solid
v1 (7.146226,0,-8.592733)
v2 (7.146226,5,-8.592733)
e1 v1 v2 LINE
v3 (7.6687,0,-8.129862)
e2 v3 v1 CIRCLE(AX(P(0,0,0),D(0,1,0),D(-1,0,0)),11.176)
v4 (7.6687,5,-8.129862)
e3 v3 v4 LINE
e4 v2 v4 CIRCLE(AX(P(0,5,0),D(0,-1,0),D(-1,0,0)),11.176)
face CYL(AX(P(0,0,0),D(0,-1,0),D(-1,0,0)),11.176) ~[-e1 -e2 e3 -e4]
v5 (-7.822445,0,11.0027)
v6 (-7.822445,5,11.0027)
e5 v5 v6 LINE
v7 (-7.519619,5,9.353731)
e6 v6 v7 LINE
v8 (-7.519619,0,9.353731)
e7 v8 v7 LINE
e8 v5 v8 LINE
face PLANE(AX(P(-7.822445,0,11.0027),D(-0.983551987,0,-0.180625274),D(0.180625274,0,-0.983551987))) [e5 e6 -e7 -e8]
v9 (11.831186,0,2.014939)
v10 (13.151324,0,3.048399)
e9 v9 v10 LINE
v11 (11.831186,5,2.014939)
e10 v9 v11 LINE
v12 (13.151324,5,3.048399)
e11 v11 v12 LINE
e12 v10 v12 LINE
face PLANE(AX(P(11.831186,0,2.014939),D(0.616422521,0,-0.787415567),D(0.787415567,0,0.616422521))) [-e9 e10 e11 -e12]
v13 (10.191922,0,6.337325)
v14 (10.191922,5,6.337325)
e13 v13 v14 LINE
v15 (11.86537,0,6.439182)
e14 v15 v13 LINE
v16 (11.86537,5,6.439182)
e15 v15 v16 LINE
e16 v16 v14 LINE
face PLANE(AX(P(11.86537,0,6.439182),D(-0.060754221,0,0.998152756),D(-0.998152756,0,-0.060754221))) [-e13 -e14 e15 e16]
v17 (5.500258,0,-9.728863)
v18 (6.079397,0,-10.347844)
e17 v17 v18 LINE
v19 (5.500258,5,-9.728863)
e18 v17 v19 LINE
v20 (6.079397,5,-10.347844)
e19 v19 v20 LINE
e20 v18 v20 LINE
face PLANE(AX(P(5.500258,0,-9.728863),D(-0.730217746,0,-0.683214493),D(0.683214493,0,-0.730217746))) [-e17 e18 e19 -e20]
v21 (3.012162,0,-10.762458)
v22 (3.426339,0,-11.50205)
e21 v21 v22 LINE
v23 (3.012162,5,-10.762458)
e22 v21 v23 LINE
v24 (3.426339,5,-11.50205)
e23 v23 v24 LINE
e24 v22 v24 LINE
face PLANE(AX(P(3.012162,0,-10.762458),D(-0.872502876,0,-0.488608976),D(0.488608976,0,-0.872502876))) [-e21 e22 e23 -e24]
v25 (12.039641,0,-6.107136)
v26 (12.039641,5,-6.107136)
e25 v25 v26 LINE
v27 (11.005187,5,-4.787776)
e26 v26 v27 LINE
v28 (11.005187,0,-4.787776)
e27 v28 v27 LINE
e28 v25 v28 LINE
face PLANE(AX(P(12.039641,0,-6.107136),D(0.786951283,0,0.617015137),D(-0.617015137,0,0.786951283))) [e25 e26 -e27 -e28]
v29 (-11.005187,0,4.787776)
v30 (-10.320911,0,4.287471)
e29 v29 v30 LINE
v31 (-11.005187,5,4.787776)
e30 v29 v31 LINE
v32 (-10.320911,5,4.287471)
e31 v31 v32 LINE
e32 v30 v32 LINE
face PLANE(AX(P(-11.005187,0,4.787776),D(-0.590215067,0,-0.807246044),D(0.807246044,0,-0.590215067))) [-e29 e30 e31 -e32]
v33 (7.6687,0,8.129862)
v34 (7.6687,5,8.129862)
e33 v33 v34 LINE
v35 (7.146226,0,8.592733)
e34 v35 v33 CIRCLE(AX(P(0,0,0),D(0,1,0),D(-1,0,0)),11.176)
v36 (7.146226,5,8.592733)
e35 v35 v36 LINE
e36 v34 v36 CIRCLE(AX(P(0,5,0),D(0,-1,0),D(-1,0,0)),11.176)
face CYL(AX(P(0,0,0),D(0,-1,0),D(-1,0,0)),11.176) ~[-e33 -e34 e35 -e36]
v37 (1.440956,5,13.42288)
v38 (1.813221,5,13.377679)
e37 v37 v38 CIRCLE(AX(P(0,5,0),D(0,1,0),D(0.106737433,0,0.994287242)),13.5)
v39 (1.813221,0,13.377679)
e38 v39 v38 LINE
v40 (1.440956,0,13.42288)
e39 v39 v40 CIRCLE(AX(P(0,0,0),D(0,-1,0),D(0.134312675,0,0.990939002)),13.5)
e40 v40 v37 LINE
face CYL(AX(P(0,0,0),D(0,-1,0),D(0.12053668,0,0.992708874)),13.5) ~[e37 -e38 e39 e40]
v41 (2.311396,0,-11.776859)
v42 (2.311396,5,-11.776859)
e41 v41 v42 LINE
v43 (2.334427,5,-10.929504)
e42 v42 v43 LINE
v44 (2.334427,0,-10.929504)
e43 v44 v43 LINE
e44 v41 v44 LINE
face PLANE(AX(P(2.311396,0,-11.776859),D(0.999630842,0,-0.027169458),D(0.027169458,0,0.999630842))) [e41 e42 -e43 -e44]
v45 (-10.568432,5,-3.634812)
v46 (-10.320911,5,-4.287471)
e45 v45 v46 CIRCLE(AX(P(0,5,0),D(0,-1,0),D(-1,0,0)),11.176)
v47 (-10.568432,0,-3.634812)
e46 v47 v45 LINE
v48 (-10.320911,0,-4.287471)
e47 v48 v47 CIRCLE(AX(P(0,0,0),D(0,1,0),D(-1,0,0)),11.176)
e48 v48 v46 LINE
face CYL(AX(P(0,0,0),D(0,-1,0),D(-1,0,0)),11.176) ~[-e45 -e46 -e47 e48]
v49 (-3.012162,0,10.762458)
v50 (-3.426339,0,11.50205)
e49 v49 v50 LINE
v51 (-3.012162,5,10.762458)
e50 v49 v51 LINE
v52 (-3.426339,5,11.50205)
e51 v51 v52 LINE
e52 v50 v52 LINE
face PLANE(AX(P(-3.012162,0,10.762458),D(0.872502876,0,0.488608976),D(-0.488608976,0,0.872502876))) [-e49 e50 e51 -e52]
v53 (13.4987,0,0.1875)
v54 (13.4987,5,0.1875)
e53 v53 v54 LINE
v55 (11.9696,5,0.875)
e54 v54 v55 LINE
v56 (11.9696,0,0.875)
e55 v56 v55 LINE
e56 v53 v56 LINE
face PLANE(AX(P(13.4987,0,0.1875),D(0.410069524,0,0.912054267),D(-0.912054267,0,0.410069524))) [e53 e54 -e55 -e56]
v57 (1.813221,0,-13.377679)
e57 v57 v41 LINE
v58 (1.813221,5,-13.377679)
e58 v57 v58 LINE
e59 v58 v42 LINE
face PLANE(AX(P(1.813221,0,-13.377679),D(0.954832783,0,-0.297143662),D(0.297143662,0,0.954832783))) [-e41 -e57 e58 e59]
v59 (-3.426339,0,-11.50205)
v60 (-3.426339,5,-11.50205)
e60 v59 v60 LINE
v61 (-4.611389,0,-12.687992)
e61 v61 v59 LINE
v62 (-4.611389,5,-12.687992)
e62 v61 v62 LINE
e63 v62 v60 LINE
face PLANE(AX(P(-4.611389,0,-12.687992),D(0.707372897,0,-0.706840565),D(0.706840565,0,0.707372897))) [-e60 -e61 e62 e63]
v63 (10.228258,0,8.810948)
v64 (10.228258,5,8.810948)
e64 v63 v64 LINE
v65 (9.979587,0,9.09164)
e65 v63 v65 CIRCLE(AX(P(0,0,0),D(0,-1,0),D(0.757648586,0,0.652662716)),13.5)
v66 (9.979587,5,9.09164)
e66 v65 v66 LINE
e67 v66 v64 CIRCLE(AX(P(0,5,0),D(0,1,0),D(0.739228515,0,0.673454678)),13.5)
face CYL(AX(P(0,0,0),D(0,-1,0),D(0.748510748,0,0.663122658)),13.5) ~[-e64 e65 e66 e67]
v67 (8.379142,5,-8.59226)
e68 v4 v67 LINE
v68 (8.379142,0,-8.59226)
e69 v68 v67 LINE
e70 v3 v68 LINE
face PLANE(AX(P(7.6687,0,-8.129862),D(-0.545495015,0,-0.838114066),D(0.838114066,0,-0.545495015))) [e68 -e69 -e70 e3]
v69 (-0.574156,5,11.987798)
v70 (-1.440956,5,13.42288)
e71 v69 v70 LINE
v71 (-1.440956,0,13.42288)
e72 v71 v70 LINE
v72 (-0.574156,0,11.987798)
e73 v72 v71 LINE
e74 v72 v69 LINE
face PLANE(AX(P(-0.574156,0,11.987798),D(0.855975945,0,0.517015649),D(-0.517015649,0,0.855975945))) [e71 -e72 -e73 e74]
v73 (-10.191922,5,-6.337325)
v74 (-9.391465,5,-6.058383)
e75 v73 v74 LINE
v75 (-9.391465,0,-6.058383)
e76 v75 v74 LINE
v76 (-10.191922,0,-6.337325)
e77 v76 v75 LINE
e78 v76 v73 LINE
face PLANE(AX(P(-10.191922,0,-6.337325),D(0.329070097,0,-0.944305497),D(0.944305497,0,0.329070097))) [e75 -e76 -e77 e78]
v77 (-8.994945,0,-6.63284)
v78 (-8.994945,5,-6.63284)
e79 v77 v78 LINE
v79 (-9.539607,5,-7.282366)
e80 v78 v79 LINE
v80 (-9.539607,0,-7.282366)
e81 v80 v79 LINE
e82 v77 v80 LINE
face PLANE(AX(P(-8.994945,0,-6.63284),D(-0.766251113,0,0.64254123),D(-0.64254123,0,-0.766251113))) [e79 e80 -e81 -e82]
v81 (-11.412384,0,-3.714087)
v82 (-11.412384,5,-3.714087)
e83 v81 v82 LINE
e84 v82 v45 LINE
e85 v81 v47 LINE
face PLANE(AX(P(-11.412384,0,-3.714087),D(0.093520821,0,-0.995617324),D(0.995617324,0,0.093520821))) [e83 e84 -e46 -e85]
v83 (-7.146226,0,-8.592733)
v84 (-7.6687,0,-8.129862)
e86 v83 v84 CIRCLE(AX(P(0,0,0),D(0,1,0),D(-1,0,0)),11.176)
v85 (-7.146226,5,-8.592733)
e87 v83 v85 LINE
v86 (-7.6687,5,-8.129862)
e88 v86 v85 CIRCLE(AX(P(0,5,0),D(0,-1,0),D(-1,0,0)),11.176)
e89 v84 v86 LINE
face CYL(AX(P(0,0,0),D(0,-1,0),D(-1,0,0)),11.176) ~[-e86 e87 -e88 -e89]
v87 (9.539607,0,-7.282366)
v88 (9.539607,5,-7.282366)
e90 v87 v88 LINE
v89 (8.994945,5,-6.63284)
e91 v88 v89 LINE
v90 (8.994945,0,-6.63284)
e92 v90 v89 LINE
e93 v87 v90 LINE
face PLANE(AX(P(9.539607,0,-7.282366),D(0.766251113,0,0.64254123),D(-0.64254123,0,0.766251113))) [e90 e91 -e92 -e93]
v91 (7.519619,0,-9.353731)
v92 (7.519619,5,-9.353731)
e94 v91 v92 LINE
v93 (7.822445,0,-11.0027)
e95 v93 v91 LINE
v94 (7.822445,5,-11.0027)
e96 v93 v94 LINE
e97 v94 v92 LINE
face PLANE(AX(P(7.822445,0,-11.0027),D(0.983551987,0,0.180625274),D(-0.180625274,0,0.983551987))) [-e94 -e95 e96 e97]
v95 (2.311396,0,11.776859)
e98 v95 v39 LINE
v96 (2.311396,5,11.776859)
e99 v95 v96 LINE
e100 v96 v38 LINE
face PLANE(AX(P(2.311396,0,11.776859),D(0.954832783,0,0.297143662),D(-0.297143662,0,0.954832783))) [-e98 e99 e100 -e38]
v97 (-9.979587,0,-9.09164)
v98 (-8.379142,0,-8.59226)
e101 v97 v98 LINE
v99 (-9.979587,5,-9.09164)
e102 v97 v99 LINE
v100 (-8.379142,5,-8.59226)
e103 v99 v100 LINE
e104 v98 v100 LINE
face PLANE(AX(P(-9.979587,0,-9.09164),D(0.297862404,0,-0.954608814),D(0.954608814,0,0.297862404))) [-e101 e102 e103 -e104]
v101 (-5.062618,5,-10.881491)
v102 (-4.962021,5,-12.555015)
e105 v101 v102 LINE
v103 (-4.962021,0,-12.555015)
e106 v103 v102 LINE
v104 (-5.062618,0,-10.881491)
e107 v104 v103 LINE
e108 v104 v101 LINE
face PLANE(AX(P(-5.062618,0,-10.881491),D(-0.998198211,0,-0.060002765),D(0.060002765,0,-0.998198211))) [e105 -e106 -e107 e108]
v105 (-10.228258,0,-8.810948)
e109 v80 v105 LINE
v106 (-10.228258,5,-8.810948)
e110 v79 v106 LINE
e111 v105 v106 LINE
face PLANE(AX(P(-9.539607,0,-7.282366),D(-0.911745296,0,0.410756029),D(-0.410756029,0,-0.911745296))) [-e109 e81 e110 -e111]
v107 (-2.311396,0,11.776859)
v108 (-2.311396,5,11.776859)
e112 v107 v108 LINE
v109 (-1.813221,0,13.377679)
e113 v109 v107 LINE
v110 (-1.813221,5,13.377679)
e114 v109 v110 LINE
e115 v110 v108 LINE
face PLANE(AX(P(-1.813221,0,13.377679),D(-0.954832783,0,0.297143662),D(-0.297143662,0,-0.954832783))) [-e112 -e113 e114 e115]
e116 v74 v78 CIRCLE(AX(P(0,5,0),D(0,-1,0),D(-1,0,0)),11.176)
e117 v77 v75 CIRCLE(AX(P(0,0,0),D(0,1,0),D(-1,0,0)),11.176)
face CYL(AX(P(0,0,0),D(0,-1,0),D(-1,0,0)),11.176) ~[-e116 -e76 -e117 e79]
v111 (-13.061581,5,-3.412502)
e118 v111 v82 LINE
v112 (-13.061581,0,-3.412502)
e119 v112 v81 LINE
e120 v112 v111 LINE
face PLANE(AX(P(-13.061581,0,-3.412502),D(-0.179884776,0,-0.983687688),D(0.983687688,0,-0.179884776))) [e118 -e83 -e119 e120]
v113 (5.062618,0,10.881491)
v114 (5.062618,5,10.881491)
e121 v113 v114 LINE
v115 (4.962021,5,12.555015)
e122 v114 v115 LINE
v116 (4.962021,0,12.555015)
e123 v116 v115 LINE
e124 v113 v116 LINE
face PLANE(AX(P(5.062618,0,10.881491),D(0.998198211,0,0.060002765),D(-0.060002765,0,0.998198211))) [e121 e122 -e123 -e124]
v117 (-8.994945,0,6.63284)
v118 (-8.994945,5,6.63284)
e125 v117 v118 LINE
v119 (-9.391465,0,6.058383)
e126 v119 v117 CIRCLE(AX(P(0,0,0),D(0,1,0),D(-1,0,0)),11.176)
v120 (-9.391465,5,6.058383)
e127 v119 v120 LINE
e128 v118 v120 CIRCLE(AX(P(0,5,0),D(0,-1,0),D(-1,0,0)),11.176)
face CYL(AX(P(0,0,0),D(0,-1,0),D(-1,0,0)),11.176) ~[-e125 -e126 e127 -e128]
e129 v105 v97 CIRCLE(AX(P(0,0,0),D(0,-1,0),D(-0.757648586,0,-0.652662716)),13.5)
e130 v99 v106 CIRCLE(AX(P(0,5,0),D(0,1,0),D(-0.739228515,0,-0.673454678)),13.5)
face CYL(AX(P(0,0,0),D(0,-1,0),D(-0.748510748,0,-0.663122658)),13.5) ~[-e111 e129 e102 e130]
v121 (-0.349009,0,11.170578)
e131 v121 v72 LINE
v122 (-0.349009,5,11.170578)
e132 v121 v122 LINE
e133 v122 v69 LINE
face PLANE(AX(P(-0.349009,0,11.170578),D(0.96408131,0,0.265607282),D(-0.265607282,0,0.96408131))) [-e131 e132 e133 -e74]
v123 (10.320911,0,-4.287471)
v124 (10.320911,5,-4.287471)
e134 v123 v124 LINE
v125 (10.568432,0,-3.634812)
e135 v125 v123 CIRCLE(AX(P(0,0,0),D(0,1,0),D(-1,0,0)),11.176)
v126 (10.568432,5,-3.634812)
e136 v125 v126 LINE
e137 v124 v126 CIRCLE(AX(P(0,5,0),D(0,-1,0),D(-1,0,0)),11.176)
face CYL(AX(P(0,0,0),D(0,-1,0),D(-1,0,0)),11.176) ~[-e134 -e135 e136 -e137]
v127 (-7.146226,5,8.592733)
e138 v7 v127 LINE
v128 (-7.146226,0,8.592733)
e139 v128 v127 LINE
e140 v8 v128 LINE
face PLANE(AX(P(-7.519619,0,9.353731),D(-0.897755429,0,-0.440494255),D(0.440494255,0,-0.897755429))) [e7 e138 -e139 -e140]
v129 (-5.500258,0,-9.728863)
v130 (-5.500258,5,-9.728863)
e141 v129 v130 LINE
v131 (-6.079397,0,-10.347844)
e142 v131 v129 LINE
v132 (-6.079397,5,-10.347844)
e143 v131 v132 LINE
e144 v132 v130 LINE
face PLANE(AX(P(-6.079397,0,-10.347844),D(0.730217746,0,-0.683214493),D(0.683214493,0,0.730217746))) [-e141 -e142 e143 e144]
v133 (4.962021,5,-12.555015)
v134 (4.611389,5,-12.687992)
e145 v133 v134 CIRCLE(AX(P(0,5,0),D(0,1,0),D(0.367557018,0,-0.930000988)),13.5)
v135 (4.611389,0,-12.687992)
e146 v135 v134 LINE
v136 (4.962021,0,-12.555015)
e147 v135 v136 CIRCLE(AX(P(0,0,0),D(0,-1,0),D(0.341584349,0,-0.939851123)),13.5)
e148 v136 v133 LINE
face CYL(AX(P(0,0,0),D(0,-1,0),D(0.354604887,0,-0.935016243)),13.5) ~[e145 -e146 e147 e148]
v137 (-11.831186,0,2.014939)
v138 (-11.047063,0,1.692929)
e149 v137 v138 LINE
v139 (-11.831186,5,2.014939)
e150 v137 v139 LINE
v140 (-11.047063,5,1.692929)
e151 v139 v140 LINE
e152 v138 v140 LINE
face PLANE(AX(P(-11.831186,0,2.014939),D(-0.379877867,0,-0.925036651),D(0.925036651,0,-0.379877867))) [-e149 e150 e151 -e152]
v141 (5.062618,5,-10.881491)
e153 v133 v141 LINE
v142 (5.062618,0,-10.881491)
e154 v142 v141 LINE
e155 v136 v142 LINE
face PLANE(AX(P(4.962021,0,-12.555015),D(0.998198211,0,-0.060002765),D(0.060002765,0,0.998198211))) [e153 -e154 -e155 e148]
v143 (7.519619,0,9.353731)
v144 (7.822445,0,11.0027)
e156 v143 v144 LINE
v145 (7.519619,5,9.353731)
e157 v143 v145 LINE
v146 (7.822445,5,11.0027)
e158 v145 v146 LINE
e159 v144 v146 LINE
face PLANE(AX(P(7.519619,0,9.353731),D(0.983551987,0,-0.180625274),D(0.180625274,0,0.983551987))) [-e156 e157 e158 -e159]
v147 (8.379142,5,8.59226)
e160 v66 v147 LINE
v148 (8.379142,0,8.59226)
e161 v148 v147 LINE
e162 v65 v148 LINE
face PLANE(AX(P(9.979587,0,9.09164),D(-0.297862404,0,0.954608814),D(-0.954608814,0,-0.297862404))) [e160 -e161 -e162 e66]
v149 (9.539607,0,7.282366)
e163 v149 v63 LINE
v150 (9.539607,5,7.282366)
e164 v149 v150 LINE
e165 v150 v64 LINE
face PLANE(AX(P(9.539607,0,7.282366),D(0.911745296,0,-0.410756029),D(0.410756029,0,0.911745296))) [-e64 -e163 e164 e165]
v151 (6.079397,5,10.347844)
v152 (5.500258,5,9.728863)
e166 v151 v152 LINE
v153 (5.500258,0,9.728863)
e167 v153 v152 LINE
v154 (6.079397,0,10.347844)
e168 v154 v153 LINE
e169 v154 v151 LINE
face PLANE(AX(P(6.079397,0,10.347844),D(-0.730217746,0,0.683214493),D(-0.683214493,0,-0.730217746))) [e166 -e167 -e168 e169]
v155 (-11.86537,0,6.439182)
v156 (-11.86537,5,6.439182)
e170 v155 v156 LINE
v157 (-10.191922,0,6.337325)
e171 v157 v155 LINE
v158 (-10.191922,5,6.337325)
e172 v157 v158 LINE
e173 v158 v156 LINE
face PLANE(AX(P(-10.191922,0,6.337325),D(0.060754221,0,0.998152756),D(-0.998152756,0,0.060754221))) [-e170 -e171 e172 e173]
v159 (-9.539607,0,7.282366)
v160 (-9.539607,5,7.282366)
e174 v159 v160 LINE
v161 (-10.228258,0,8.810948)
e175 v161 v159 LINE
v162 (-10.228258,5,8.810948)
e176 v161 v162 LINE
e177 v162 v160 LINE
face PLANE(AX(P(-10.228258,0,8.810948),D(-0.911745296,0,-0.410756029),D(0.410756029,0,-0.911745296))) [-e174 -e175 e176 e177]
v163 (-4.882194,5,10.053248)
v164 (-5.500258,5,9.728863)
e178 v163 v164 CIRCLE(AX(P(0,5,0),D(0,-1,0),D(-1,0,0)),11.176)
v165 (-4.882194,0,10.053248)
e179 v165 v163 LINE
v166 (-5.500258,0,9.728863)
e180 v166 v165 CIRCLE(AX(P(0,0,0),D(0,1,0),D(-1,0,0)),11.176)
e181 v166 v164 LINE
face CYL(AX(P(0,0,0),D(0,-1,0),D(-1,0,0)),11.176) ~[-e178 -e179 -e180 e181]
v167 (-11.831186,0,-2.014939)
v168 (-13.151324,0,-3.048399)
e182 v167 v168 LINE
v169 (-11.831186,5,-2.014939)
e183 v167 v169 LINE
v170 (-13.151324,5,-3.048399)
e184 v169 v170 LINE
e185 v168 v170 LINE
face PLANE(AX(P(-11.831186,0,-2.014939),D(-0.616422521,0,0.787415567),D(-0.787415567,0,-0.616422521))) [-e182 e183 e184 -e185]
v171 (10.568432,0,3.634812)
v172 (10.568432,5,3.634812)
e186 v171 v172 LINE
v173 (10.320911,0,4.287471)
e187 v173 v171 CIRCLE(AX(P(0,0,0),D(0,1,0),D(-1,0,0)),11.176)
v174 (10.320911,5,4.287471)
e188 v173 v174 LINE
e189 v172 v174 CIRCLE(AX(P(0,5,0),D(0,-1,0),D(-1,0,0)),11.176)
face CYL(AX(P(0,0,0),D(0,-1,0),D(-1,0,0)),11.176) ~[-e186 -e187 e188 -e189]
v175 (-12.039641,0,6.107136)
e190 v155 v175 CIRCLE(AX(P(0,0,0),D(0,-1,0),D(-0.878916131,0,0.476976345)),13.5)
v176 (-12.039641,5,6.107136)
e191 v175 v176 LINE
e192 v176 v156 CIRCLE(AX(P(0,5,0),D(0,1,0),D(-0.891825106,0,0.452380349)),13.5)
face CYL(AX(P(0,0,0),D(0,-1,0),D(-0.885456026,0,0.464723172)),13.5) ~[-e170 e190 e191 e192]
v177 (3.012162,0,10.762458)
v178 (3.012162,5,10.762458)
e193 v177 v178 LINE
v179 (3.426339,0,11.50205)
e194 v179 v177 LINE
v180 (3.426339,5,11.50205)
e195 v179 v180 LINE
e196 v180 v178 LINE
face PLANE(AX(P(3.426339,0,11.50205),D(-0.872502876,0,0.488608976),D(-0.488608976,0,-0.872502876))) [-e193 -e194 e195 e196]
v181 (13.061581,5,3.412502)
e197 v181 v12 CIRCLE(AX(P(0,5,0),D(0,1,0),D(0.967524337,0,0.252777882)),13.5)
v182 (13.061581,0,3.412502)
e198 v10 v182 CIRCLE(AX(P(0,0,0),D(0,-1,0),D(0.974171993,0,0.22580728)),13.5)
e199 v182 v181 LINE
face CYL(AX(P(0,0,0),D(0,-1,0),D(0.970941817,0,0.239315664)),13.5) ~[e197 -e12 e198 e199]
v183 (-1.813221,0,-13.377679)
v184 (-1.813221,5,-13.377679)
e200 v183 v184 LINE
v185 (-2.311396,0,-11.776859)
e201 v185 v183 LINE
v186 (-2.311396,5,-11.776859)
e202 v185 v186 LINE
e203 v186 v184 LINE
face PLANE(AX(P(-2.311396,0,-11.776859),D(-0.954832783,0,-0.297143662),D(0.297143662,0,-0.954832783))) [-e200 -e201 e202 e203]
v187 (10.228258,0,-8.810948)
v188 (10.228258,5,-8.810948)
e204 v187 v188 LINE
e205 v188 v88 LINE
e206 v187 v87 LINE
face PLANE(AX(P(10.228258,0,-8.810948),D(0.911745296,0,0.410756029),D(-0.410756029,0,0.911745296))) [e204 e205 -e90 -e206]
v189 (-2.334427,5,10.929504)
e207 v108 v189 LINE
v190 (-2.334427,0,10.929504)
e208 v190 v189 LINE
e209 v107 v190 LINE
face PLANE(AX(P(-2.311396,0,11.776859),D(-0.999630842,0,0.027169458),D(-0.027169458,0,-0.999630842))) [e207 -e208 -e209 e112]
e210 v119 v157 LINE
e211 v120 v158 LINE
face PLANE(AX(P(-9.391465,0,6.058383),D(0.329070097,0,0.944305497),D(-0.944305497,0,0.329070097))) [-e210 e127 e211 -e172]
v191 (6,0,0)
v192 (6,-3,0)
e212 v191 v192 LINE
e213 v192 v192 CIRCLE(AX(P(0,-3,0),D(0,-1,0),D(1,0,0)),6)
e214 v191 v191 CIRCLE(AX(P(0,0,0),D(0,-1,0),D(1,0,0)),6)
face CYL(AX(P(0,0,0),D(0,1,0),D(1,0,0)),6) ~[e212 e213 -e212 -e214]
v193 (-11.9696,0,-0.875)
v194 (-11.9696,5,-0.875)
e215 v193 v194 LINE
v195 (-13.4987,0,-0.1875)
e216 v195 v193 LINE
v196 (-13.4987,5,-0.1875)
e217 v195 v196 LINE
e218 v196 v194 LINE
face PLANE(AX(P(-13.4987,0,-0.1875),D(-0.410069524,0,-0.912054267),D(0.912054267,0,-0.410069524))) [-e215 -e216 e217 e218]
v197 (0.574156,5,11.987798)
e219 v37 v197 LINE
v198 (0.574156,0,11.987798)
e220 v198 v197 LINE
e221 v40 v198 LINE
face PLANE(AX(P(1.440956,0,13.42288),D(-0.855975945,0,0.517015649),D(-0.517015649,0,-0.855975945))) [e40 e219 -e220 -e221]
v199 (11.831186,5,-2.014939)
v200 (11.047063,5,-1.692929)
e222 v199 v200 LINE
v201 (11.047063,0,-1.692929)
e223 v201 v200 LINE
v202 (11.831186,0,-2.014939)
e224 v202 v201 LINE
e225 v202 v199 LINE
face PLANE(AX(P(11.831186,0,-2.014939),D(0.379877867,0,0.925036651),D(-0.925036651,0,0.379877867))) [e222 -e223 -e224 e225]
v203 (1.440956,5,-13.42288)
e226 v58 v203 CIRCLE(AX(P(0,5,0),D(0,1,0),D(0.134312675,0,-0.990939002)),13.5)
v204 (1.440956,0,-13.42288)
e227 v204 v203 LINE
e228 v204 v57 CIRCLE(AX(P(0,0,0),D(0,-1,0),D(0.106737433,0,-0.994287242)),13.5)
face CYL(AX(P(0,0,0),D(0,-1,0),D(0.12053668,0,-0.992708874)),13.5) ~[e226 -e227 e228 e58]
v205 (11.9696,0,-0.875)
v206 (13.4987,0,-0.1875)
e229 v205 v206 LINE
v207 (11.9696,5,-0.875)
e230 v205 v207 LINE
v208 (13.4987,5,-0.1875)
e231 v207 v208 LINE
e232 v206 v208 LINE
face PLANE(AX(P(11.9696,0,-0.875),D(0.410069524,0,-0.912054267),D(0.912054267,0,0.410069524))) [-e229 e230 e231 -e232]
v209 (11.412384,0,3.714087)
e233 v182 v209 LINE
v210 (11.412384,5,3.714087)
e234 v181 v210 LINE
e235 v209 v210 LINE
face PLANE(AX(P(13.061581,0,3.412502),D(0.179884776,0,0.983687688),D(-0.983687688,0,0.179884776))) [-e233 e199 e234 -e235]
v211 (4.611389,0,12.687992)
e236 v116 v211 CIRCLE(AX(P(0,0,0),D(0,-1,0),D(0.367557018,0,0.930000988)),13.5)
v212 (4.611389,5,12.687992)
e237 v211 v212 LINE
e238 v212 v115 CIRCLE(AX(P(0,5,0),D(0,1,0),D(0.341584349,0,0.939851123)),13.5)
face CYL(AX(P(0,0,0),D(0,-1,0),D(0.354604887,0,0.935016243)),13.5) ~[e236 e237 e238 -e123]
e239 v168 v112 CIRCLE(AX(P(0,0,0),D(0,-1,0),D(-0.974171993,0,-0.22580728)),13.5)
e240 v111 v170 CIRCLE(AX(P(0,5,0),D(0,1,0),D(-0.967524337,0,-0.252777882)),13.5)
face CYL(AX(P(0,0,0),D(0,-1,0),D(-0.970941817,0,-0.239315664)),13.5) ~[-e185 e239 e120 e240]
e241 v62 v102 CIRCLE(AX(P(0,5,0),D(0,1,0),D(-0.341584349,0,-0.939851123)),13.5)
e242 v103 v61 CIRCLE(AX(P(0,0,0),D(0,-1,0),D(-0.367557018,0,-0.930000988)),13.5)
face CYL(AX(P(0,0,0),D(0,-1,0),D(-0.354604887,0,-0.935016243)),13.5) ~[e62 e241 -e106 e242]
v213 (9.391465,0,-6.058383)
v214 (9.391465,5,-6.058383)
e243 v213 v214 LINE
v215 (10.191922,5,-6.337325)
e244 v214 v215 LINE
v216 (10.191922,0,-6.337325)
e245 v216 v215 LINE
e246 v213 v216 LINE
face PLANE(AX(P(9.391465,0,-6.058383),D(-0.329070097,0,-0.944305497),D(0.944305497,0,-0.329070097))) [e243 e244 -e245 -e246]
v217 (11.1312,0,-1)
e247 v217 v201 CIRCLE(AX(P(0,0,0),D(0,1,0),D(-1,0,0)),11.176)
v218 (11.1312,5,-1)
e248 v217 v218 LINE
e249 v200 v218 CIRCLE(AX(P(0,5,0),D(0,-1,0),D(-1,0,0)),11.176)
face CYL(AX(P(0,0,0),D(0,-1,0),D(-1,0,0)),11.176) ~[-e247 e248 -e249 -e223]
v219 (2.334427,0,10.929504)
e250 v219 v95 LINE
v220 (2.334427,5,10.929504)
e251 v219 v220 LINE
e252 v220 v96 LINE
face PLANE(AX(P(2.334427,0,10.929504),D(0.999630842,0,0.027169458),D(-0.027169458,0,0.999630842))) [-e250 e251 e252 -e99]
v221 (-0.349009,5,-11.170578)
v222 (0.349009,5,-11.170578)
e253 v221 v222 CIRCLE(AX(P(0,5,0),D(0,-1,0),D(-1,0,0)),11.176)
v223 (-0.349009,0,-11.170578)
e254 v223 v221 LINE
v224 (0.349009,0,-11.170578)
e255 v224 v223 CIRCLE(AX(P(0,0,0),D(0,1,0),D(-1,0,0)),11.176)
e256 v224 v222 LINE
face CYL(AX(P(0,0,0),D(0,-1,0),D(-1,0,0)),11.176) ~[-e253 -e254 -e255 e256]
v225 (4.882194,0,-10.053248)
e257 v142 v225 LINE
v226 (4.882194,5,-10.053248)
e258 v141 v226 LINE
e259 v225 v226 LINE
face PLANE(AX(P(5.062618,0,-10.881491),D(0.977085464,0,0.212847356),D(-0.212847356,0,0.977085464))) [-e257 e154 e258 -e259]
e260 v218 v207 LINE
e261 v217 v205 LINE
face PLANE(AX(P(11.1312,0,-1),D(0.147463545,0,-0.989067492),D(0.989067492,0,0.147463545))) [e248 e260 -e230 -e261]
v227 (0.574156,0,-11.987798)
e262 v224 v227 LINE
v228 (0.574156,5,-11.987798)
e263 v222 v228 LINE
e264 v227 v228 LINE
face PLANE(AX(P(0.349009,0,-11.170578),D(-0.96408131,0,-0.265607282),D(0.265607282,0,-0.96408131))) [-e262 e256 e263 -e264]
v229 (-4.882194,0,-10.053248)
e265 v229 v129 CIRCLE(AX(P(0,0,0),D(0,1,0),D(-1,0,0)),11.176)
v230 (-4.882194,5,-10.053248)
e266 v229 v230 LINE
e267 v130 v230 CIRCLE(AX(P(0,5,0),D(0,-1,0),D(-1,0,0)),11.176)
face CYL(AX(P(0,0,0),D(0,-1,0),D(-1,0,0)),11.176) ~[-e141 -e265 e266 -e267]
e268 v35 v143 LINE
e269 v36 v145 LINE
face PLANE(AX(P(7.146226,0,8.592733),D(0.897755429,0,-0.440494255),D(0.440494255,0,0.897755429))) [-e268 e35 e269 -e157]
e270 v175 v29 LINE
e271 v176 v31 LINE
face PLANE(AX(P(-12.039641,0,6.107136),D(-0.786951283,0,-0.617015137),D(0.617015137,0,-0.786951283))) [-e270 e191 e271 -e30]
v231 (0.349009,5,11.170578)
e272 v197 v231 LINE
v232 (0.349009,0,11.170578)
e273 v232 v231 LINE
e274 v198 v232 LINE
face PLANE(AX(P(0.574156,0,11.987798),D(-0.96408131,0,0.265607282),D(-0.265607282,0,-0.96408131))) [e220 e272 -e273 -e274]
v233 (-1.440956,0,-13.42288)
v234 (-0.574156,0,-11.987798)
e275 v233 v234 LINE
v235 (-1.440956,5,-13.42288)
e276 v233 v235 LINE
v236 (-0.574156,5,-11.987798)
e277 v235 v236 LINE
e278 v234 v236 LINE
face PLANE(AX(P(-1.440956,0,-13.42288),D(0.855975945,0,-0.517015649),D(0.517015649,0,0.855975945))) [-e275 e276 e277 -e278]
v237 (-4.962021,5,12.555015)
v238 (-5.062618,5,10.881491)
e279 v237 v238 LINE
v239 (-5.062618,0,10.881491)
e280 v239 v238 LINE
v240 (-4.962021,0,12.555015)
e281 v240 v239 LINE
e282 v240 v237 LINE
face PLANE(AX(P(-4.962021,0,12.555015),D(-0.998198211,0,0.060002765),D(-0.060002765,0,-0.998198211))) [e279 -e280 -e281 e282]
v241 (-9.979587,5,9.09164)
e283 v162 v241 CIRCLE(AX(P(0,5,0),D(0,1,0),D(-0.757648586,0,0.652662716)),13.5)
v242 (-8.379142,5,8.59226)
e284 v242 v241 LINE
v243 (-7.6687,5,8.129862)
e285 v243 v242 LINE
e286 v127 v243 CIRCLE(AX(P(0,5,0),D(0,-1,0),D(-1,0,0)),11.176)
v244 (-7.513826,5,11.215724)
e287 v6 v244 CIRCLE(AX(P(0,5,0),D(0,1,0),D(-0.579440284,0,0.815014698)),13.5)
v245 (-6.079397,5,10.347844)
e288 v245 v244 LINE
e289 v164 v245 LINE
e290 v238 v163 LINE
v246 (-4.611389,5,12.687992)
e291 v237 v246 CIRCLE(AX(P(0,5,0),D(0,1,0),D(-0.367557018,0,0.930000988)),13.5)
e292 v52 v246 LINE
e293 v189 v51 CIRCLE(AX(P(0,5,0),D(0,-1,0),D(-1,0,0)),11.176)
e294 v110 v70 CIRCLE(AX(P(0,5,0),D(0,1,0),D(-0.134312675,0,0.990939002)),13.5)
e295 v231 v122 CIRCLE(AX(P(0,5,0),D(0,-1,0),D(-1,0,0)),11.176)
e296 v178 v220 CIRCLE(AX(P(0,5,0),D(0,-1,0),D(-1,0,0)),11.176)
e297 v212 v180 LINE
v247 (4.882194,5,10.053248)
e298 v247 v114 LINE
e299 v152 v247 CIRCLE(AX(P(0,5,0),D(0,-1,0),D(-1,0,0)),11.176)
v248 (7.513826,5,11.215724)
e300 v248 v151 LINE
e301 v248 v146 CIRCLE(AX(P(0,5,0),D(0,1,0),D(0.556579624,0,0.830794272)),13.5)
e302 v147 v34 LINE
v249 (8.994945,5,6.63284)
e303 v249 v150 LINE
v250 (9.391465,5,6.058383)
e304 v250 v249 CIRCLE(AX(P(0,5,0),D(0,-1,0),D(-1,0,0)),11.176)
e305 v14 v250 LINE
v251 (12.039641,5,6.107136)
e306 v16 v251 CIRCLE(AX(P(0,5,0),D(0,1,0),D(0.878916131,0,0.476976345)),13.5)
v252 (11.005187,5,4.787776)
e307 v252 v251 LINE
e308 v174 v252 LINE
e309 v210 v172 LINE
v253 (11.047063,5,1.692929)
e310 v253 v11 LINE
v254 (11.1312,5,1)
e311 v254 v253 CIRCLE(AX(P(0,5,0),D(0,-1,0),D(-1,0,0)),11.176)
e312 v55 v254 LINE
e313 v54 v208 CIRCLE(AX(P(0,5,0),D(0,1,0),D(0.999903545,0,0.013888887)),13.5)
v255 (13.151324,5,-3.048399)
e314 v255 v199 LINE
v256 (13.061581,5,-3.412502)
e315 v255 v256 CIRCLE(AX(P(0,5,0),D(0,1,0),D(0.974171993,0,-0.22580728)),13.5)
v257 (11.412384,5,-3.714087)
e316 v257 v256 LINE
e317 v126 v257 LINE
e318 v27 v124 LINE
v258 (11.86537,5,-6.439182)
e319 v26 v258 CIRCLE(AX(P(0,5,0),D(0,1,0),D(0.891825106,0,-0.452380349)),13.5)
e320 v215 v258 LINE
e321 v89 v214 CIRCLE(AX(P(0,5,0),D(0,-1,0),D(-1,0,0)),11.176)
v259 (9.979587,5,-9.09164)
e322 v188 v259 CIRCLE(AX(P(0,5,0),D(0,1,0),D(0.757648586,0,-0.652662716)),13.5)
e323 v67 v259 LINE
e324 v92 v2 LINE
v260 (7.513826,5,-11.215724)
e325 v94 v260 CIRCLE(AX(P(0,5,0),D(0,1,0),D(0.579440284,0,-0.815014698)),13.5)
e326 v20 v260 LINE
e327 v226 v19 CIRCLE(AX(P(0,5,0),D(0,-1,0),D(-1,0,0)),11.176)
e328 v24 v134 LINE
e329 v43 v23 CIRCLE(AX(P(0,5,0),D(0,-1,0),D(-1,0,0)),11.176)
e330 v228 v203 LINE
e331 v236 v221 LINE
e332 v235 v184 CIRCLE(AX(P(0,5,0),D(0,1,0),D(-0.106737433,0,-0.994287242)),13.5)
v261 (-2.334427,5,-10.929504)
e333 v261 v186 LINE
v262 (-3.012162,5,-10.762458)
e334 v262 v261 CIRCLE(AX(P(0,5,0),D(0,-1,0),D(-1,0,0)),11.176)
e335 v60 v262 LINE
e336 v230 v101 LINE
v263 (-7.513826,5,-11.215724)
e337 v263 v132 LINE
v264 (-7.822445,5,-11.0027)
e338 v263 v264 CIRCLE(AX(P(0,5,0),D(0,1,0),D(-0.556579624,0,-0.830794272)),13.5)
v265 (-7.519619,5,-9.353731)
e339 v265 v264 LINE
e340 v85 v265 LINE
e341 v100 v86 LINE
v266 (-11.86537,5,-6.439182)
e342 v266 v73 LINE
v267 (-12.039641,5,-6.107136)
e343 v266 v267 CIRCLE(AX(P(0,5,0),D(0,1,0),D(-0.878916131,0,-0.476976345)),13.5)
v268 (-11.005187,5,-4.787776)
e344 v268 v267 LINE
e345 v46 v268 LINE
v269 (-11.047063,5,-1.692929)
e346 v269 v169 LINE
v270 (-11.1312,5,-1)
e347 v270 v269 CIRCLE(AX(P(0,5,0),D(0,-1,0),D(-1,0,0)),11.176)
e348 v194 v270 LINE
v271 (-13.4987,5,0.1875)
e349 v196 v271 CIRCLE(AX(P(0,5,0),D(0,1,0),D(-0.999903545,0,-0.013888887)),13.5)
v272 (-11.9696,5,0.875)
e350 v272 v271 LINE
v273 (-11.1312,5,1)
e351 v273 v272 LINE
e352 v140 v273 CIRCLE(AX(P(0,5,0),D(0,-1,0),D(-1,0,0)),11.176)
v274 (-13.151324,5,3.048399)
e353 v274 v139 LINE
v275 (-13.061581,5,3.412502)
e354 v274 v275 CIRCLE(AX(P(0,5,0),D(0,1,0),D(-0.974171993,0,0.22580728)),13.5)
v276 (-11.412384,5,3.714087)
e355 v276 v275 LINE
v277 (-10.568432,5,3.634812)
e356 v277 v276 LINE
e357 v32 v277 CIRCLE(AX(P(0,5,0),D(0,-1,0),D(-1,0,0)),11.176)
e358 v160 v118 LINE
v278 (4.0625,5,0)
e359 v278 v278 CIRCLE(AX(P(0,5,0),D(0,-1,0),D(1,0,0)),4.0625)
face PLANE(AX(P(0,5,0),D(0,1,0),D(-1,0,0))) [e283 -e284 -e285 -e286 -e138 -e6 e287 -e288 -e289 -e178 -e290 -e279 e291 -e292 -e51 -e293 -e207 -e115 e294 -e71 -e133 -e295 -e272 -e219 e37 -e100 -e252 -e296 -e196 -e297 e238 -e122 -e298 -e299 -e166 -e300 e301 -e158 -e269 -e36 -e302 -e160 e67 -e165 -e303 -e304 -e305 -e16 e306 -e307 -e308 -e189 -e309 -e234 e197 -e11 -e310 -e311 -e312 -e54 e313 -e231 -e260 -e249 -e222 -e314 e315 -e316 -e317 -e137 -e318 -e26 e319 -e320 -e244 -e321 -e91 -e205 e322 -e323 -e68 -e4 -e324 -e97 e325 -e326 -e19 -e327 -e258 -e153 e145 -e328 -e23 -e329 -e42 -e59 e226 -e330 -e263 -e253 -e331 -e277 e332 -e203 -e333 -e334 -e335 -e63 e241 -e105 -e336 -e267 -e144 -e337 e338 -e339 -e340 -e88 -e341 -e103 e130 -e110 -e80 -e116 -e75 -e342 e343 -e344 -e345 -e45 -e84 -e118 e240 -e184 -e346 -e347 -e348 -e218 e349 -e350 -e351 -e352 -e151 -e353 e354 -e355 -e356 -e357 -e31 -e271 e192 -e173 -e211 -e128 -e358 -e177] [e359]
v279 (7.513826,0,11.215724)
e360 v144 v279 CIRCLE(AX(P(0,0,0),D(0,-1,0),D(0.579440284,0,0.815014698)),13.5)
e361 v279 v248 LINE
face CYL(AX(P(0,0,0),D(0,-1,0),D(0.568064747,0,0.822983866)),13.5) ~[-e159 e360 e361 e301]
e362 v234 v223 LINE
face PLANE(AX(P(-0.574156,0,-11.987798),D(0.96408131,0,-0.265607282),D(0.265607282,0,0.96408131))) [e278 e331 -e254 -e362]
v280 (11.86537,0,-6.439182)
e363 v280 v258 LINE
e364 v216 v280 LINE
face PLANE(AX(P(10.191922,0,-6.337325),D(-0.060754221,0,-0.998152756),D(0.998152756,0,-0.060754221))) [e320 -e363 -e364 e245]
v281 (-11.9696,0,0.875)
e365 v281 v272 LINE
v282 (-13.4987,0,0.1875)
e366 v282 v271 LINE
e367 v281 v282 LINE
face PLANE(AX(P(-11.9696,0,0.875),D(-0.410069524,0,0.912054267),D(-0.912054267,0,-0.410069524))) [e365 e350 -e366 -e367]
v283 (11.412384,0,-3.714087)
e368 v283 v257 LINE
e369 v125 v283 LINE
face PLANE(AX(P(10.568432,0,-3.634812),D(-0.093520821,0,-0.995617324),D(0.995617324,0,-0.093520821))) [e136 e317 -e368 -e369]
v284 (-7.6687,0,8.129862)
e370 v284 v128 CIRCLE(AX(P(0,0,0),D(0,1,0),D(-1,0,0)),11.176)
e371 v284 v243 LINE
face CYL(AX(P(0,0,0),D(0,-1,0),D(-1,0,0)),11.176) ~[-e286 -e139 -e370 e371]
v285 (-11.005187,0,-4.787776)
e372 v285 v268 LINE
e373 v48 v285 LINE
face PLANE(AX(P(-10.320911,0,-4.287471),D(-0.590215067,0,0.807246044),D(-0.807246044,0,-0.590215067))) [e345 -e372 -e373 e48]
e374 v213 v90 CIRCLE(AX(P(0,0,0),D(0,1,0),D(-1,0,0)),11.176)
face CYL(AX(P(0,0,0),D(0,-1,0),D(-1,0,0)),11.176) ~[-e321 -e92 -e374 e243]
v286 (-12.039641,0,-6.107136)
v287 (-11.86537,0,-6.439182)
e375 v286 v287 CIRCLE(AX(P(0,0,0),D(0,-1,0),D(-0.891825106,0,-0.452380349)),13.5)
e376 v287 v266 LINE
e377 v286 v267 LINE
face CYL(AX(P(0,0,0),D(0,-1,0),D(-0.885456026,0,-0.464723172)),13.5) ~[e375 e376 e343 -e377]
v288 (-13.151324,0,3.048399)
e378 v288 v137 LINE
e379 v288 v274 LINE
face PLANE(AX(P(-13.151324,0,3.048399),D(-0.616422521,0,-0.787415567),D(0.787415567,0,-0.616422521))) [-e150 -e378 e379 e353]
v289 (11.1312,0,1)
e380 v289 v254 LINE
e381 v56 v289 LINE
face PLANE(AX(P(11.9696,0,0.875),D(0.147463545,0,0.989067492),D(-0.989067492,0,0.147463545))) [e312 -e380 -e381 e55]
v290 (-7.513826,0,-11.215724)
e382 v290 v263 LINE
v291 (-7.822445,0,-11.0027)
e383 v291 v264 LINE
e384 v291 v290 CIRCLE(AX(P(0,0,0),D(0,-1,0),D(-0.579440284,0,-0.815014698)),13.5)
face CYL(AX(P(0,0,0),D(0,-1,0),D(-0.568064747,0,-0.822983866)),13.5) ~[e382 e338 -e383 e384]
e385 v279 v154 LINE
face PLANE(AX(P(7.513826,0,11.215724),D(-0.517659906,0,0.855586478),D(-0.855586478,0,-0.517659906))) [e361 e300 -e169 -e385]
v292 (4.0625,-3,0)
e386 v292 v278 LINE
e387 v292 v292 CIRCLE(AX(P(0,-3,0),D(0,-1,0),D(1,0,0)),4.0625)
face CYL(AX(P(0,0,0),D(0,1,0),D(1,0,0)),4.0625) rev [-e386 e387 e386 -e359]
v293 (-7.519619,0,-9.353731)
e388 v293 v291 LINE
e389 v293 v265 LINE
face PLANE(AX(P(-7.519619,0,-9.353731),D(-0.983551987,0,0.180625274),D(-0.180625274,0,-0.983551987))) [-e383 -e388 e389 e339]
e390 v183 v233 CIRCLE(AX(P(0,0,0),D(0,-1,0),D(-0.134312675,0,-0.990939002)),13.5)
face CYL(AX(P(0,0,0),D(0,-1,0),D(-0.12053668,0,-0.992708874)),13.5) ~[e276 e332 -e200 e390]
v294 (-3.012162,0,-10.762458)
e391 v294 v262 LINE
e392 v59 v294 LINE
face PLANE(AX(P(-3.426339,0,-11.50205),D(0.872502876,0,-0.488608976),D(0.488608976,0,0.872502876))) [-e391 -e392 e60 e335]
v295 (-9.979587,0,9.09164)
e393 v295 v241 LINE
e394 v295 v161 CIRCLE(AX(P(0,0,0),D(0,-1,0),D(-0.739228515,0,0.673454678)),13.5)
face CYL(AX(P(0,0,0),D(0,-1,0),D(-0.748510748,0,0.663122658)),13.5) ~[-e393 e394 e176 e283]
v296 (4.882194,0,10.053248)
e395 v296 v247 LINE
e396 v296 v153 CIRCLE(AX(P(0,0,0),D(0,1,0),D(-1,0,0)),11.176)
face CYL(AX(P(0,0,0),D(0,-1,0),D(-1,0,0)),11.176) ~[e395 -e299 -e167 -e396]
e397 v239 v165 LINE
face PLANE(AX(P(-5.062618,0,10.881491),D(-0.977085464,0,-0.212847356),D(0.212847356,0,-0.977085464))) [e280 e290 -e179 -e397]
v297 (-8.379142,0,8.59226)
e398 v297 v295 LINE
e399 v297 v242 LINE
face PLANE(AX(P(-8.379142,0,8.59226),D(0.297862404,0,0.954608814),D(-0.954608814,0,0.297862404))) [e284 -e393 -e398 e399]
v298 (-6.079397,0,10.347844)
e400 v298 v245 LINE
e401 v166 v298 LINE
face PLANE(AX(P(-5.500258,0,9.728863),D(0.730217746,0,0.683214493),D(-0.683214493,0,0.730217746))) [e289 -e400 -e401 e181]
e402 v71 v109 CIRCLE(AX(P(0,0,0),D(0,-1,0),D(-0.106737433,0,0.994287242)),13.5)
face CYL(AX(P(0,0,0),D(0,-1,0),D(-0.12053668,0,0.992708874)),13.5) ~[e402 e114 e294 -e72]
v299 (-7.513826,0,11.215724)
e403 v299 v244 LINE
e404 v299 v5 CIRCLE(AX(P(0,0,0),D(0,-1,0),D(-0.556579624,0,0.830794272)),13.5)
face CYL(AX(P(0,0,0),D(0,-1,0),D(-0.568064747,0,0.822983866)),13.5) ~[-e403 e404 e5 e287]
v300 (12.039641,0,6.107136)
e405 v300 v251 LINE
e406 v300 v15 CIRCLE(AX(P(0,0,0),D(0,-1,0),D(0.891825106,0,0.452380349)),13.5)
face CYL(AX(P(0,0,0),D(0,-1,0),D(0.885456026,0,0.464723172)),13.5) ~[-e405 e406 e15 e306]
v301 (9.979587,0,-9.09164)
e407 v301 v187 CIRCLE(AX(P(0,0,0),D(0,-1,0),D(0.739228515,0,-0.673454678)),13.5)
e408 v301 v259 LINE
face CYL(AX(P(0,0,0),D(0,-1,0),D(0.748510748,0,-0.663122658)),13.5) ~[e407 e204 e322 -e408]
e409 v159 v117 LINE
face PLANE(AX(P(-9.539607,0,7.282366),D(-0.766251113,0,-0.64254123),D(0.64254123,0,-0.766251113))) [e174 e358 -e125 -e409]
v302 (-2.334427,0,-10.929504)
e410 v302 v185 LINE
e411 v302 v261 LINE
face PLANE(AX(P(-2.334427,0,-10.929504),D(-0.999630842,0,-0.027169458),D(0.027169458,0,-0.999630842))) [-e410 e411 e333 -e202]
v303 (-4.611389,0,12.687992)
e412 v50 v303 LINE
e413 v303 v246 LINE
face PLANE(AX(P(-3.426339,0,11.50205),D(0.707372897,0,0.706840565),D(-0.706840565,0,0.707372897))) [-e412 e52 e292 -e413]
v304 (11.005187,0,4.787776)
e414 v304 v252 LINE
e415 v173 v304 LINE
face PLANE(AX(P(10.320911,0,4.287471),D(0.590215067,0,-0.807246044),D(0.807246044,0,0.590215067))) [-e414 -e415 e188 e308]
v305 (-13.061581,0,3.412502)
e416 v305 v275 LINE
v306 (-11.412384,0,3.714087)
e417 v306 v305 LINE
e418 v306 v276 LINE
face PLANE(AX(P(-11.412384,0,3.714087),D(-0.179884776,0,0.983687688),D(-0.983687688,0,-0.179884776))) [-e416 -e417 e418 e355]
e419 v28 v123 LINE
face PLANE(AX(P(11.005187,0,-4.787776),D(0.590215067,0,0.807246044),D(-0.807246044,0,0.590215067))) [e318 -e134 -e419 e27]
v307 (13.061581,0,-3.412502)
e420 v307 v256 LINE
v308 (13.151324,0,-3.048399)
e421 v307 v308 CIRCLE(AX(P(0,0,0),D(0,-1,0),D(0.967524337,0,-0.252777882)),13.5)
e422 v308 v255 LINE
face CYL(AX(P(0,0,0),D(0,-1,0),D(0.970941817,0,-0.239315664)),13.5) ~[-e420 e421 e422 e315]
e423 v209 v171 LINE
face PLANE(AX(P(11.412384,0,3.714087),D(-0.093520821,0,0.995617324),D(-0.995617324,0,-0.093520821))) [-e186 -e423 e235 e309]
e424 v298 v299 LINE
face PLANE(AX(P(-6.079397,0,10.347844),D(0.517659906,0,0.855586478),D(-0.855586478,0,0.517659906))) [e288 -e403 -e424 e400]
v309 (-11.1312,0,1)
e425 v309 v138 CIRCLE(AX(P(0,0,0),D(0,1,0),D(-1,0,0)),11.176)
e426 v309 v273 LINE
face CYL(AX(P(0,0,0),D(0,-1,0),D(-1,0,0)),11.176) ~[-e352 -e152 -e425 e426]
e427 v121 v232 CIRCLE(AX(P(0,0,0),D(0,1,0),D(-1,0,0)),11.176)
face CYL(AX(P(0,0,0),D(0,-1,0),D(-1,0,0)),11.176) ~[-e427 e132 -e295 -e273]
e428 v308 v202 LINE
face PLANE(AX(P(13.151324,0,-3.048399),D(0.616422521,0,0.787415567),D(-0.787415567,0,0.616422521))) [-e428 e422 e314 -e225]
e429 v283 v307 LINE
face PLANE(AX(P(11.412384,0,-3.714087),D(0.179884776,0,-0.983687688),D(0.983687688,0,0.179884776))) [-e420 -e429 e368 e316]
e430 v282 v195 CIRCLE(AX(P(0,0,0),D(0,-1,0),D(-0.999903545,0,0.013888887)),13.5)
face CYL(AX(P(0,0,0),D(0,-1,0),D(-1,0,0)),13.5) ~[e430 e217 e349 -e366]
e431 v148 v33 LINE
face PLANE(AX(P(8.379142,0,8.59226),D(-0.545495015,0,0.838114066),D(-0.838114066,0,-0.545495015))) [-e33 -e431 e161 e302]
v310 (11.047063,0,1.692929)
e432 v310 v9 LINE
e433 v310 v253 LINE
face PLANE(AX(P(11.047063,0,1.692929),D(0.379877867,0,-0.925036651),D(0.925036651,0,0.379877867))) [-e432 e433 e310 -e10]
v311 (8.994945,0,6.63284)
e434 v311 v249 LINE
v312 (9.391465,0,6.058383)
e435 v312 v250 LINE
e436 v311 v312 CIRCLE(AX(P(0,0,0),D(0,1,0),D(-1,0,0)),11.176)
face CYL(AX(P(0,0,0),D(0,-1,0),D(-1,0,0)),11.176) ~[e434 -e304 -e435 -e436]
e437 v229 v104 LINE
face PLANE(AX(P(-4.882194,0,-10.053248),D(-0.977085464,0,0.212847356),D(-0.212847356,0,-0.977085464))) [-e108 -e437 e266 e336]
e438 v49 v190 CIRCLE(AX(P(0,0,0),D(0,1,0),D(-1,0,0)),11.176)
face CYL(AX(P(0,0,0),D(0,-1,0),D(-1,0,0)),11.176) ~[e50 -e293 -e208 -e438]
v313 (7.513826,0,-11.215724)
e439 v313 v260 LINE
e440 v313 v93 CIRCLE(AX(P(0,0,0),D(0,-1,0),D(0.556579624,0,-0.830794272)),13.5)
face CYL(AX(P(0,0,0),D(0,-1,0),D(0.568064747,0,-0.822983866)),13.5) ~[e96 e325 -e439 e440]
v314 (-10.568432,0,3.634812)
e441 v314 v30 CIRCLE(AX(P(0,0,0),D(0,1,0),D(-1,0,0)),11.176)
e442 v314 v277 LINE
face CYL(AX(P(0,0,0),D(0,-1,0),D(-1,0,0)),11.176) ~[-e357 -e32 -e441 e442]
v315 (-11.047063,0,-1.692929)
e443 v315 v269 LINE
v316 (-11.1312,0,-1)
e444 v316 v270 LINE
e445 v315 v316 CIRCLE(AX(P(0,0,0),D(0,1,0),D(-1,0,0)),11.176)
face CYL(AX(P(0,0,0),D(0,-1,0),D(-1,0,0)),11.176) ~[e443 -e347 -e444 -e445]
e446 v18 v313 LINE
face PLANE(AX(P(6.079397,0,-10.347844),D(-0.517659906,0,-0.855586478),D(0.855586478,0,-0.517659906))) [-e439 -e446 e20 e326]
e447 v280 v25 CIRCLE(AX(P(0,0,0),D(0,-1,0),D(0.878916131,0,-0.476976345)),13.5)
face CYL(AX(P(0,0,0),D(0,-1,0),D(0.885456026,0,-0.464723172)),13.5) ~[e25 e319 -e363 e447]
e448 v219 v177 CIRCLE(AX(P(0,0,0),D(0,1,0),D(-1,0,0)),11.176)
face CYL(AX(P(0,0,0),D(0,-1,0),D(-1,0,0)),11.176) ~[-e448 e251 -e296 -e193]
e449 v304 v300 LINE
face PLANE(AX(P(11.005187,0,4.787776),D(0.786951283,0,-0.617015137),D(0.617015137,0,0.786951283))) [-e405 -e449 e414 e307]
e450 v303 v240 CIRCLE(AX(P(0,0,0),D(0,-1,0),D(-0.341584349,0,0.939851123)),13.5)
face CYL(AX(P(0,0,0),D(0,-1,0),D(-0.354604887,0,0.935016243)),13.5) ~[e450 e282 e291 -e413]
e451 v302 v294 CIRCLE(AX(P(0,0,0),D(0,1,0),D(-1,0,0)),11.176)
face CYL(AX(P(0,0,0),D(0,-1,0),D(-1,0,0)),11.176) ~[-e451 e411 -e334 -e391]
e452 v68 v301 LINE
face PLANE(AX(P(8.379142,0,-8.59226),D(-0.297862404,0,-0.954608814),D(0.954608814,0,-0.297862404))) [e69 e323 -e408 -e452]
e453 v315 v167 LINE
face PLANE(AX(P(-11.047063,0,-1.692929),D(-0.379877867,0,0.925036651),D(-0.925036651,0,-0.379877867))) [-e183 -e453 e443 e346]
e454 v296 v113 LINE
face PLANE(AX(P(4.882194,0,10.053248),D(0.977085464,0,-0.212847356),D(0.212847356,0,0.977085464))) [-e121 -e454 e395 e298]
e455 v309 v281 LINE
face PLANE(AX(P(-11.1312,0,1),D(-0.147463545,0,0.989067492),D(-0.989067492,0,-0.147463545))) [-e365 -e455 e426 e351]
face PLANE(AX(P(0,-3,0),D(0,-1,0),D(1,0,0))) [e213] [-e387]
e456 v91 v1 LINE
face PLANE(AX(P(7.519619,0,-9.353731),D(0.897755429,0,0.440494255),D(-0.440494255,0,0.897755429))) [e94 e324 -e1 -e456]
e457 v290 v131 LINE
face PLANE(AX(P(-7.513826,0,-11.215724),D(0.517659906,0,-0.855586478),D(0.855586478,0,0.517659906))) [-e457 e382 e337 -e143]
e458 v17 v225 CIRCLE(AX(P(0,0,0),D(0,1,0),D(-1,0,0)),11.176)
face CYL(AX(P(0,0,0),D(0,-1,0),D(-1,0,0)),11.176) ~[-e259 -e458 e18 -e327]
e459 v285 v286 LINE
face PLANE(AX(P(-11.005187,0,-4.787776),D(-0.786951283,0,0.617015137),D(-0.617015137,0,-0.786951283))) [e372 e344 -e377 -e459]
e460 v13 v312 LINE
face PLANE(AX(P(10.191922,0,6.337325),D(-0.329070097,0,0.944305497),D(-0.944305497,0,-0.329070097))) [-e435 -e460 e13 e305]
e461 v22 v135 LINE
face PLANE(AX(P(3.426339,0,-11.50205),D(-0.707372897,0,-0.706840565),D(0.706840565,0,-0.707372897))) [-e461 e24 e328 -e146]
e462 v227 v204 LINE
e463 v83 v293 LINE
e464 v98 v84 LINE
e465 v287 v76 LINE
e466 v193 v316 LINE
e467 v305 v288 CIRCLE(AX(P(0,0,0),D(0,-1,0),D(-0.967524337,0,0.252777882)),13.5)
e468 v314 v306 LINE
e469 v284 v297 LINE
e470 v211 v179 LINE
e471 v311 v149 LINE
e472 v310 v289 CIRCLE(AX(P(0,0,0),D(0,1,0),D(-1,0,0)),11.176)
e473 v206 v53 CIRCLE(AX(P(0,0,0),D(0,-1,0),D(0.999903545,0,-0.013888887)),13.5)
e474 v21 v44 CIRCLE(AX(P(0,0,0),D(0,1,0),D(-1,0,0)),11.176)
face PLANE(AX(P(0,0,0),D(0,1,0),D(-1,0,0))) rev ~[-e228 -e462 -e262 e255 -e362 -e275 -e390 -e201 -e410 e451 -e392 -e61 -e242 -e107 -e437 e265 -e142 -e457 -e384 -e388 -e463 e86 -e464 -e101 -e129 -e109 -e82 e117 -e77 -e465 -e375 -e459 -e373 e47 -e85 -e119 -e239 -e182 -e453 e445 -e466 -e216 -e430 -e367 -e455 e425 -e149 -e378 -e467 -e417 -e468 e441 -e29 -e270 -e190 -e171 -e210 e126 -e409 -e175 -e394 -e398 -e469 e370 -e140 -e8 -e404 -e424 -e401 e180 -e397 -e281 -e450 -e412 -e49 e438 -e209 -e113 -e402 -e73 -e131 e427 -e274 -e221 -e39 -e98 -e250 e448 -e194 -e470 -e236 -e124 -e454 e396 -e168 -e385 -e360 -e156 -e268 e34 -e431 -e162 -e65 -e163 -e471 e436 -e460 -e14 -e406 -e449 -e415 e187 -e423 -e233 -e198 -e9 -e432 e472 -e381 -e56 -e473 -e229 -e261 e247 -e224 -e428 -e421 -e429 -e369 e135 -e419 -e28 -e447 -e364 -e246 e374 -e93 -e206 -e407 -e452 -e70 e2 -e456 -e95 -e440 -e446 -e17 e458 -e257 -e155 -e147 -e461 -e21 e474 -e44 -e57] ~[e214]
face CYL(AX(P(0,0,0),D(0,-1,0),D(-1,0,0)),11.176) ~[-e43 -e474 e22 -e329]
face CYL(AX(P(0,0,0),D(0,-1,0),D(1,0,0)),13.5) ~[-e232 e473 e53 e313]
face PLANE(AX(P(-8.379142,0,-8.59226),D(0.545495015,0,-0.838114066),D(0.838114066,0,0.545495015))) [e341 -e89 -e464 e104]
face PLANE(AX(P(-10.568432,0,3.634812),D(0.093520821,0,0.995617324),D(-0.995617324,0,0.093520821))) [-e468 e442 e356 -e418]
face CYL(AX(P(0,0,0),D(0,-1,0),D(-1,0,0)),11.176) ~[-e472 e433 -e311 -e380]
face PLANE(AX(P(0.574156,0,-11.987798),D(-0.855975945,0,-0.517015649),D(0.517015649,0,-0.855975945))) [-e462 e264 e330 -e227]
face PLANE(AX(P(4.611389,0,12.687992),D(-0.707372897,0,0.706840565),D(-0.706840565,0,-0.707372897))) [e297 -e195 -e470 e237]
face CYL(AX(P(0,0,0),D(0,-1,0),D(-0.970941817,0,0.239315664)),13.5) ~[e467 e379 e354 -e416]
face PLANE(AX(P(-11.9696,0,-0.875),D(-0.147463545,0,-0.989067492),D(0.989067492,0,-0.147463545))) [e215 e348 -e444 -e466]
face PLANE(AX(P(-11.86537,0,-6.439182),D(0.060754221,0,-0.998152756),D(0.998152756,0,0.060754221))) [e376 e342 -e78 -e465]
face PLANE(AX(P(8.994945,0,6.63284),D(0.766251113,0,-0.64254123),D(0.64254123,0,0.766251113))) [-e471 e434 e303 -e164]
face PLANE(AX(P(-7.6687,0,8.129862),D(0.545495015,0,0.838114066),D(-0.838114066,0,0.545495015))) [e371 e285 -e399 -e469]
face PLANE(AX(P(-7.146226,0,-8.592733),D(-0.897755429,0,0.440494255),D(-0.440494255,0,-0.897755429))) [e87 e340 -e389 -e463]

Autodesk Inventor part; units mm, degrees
ref_plane "YZ Plane" through (0, 0, 0) normal (1, 0, 0) x (0, 1, 0)
ref_plane "XZ Plane" through (0, 0, 0) normal (0, 1, 0) x (-1, 0, 0)
ref_plane "XY Plane" through (0, 0, 0) normal (0, 0, 1) x (1, 0, 0)
sketch "Sketch1" plane through (0, 0, 0) normal (0, 1, 0) x (-1, 0, 0)
  circle A0 centre (0, 0) radius 13.5
  line L0 (11.1312, 1) -> (11.9696, 0.875)
  line L1 (11.9696, 0.875) -> (13.4987, 0.1875)
  line L2 (13.4987, -0.1875) -> (11.9696, -0.875)
  line L3 (11.9696, -0.875) -> (11.1312, -1)
  line L4 (-18.9, 0) -> (18.9, 0) projected
  circle A1 centre (0, 0) radius 12.0015 construction
  circle A2 centre (0, 0) radius 11.176
  dimension "d2" = 24.003
  dimension "d0" = 27
  dimension "d3" = 2
  dimension "d4" = 0.375
  dimension "d5" = 1.75
  dimension "d8" = 22.352
extrude "Extrusion1" add sketch "Sketch1" along normal blind 5 contours A2 L4 | L4 A2
extrude "Extrusion2" add sketch "Sketch1" along normal blind 5 contours L4 A2 L0 L1 A0 | A0 L2 L3 A2 L4 picked at (12.2152, 0.2917) picked at (12.2152, -0.2917)
pattern_circular "Circular Pattern1" count 26 over 360 about axis through (0, 0, 0) along (0, 1, 0) of "Extrusion2"
sketch "Sketch2" plane through (0, 0, 0) normal (0, -1, 0) x (1, 0, 0)
  circle A0 centre (0, 0) radius 4.0625
  dimension "d14" = 8.125
extrude "Extrusion3" cut sketch "Sketch2" against normal blind 5
sketch "Sketch3" plane through (0, 0, 0) normal (0, -1, 0) x (1, 0, 0)
  circle A0 centre (0, 0) radius 6
  circle A1 centre (0, 0) radius 4.0625 projected
  dimension "d17" = 12
extrude "Extrusion4" add sketch "Sketch3" along normal blind 3
